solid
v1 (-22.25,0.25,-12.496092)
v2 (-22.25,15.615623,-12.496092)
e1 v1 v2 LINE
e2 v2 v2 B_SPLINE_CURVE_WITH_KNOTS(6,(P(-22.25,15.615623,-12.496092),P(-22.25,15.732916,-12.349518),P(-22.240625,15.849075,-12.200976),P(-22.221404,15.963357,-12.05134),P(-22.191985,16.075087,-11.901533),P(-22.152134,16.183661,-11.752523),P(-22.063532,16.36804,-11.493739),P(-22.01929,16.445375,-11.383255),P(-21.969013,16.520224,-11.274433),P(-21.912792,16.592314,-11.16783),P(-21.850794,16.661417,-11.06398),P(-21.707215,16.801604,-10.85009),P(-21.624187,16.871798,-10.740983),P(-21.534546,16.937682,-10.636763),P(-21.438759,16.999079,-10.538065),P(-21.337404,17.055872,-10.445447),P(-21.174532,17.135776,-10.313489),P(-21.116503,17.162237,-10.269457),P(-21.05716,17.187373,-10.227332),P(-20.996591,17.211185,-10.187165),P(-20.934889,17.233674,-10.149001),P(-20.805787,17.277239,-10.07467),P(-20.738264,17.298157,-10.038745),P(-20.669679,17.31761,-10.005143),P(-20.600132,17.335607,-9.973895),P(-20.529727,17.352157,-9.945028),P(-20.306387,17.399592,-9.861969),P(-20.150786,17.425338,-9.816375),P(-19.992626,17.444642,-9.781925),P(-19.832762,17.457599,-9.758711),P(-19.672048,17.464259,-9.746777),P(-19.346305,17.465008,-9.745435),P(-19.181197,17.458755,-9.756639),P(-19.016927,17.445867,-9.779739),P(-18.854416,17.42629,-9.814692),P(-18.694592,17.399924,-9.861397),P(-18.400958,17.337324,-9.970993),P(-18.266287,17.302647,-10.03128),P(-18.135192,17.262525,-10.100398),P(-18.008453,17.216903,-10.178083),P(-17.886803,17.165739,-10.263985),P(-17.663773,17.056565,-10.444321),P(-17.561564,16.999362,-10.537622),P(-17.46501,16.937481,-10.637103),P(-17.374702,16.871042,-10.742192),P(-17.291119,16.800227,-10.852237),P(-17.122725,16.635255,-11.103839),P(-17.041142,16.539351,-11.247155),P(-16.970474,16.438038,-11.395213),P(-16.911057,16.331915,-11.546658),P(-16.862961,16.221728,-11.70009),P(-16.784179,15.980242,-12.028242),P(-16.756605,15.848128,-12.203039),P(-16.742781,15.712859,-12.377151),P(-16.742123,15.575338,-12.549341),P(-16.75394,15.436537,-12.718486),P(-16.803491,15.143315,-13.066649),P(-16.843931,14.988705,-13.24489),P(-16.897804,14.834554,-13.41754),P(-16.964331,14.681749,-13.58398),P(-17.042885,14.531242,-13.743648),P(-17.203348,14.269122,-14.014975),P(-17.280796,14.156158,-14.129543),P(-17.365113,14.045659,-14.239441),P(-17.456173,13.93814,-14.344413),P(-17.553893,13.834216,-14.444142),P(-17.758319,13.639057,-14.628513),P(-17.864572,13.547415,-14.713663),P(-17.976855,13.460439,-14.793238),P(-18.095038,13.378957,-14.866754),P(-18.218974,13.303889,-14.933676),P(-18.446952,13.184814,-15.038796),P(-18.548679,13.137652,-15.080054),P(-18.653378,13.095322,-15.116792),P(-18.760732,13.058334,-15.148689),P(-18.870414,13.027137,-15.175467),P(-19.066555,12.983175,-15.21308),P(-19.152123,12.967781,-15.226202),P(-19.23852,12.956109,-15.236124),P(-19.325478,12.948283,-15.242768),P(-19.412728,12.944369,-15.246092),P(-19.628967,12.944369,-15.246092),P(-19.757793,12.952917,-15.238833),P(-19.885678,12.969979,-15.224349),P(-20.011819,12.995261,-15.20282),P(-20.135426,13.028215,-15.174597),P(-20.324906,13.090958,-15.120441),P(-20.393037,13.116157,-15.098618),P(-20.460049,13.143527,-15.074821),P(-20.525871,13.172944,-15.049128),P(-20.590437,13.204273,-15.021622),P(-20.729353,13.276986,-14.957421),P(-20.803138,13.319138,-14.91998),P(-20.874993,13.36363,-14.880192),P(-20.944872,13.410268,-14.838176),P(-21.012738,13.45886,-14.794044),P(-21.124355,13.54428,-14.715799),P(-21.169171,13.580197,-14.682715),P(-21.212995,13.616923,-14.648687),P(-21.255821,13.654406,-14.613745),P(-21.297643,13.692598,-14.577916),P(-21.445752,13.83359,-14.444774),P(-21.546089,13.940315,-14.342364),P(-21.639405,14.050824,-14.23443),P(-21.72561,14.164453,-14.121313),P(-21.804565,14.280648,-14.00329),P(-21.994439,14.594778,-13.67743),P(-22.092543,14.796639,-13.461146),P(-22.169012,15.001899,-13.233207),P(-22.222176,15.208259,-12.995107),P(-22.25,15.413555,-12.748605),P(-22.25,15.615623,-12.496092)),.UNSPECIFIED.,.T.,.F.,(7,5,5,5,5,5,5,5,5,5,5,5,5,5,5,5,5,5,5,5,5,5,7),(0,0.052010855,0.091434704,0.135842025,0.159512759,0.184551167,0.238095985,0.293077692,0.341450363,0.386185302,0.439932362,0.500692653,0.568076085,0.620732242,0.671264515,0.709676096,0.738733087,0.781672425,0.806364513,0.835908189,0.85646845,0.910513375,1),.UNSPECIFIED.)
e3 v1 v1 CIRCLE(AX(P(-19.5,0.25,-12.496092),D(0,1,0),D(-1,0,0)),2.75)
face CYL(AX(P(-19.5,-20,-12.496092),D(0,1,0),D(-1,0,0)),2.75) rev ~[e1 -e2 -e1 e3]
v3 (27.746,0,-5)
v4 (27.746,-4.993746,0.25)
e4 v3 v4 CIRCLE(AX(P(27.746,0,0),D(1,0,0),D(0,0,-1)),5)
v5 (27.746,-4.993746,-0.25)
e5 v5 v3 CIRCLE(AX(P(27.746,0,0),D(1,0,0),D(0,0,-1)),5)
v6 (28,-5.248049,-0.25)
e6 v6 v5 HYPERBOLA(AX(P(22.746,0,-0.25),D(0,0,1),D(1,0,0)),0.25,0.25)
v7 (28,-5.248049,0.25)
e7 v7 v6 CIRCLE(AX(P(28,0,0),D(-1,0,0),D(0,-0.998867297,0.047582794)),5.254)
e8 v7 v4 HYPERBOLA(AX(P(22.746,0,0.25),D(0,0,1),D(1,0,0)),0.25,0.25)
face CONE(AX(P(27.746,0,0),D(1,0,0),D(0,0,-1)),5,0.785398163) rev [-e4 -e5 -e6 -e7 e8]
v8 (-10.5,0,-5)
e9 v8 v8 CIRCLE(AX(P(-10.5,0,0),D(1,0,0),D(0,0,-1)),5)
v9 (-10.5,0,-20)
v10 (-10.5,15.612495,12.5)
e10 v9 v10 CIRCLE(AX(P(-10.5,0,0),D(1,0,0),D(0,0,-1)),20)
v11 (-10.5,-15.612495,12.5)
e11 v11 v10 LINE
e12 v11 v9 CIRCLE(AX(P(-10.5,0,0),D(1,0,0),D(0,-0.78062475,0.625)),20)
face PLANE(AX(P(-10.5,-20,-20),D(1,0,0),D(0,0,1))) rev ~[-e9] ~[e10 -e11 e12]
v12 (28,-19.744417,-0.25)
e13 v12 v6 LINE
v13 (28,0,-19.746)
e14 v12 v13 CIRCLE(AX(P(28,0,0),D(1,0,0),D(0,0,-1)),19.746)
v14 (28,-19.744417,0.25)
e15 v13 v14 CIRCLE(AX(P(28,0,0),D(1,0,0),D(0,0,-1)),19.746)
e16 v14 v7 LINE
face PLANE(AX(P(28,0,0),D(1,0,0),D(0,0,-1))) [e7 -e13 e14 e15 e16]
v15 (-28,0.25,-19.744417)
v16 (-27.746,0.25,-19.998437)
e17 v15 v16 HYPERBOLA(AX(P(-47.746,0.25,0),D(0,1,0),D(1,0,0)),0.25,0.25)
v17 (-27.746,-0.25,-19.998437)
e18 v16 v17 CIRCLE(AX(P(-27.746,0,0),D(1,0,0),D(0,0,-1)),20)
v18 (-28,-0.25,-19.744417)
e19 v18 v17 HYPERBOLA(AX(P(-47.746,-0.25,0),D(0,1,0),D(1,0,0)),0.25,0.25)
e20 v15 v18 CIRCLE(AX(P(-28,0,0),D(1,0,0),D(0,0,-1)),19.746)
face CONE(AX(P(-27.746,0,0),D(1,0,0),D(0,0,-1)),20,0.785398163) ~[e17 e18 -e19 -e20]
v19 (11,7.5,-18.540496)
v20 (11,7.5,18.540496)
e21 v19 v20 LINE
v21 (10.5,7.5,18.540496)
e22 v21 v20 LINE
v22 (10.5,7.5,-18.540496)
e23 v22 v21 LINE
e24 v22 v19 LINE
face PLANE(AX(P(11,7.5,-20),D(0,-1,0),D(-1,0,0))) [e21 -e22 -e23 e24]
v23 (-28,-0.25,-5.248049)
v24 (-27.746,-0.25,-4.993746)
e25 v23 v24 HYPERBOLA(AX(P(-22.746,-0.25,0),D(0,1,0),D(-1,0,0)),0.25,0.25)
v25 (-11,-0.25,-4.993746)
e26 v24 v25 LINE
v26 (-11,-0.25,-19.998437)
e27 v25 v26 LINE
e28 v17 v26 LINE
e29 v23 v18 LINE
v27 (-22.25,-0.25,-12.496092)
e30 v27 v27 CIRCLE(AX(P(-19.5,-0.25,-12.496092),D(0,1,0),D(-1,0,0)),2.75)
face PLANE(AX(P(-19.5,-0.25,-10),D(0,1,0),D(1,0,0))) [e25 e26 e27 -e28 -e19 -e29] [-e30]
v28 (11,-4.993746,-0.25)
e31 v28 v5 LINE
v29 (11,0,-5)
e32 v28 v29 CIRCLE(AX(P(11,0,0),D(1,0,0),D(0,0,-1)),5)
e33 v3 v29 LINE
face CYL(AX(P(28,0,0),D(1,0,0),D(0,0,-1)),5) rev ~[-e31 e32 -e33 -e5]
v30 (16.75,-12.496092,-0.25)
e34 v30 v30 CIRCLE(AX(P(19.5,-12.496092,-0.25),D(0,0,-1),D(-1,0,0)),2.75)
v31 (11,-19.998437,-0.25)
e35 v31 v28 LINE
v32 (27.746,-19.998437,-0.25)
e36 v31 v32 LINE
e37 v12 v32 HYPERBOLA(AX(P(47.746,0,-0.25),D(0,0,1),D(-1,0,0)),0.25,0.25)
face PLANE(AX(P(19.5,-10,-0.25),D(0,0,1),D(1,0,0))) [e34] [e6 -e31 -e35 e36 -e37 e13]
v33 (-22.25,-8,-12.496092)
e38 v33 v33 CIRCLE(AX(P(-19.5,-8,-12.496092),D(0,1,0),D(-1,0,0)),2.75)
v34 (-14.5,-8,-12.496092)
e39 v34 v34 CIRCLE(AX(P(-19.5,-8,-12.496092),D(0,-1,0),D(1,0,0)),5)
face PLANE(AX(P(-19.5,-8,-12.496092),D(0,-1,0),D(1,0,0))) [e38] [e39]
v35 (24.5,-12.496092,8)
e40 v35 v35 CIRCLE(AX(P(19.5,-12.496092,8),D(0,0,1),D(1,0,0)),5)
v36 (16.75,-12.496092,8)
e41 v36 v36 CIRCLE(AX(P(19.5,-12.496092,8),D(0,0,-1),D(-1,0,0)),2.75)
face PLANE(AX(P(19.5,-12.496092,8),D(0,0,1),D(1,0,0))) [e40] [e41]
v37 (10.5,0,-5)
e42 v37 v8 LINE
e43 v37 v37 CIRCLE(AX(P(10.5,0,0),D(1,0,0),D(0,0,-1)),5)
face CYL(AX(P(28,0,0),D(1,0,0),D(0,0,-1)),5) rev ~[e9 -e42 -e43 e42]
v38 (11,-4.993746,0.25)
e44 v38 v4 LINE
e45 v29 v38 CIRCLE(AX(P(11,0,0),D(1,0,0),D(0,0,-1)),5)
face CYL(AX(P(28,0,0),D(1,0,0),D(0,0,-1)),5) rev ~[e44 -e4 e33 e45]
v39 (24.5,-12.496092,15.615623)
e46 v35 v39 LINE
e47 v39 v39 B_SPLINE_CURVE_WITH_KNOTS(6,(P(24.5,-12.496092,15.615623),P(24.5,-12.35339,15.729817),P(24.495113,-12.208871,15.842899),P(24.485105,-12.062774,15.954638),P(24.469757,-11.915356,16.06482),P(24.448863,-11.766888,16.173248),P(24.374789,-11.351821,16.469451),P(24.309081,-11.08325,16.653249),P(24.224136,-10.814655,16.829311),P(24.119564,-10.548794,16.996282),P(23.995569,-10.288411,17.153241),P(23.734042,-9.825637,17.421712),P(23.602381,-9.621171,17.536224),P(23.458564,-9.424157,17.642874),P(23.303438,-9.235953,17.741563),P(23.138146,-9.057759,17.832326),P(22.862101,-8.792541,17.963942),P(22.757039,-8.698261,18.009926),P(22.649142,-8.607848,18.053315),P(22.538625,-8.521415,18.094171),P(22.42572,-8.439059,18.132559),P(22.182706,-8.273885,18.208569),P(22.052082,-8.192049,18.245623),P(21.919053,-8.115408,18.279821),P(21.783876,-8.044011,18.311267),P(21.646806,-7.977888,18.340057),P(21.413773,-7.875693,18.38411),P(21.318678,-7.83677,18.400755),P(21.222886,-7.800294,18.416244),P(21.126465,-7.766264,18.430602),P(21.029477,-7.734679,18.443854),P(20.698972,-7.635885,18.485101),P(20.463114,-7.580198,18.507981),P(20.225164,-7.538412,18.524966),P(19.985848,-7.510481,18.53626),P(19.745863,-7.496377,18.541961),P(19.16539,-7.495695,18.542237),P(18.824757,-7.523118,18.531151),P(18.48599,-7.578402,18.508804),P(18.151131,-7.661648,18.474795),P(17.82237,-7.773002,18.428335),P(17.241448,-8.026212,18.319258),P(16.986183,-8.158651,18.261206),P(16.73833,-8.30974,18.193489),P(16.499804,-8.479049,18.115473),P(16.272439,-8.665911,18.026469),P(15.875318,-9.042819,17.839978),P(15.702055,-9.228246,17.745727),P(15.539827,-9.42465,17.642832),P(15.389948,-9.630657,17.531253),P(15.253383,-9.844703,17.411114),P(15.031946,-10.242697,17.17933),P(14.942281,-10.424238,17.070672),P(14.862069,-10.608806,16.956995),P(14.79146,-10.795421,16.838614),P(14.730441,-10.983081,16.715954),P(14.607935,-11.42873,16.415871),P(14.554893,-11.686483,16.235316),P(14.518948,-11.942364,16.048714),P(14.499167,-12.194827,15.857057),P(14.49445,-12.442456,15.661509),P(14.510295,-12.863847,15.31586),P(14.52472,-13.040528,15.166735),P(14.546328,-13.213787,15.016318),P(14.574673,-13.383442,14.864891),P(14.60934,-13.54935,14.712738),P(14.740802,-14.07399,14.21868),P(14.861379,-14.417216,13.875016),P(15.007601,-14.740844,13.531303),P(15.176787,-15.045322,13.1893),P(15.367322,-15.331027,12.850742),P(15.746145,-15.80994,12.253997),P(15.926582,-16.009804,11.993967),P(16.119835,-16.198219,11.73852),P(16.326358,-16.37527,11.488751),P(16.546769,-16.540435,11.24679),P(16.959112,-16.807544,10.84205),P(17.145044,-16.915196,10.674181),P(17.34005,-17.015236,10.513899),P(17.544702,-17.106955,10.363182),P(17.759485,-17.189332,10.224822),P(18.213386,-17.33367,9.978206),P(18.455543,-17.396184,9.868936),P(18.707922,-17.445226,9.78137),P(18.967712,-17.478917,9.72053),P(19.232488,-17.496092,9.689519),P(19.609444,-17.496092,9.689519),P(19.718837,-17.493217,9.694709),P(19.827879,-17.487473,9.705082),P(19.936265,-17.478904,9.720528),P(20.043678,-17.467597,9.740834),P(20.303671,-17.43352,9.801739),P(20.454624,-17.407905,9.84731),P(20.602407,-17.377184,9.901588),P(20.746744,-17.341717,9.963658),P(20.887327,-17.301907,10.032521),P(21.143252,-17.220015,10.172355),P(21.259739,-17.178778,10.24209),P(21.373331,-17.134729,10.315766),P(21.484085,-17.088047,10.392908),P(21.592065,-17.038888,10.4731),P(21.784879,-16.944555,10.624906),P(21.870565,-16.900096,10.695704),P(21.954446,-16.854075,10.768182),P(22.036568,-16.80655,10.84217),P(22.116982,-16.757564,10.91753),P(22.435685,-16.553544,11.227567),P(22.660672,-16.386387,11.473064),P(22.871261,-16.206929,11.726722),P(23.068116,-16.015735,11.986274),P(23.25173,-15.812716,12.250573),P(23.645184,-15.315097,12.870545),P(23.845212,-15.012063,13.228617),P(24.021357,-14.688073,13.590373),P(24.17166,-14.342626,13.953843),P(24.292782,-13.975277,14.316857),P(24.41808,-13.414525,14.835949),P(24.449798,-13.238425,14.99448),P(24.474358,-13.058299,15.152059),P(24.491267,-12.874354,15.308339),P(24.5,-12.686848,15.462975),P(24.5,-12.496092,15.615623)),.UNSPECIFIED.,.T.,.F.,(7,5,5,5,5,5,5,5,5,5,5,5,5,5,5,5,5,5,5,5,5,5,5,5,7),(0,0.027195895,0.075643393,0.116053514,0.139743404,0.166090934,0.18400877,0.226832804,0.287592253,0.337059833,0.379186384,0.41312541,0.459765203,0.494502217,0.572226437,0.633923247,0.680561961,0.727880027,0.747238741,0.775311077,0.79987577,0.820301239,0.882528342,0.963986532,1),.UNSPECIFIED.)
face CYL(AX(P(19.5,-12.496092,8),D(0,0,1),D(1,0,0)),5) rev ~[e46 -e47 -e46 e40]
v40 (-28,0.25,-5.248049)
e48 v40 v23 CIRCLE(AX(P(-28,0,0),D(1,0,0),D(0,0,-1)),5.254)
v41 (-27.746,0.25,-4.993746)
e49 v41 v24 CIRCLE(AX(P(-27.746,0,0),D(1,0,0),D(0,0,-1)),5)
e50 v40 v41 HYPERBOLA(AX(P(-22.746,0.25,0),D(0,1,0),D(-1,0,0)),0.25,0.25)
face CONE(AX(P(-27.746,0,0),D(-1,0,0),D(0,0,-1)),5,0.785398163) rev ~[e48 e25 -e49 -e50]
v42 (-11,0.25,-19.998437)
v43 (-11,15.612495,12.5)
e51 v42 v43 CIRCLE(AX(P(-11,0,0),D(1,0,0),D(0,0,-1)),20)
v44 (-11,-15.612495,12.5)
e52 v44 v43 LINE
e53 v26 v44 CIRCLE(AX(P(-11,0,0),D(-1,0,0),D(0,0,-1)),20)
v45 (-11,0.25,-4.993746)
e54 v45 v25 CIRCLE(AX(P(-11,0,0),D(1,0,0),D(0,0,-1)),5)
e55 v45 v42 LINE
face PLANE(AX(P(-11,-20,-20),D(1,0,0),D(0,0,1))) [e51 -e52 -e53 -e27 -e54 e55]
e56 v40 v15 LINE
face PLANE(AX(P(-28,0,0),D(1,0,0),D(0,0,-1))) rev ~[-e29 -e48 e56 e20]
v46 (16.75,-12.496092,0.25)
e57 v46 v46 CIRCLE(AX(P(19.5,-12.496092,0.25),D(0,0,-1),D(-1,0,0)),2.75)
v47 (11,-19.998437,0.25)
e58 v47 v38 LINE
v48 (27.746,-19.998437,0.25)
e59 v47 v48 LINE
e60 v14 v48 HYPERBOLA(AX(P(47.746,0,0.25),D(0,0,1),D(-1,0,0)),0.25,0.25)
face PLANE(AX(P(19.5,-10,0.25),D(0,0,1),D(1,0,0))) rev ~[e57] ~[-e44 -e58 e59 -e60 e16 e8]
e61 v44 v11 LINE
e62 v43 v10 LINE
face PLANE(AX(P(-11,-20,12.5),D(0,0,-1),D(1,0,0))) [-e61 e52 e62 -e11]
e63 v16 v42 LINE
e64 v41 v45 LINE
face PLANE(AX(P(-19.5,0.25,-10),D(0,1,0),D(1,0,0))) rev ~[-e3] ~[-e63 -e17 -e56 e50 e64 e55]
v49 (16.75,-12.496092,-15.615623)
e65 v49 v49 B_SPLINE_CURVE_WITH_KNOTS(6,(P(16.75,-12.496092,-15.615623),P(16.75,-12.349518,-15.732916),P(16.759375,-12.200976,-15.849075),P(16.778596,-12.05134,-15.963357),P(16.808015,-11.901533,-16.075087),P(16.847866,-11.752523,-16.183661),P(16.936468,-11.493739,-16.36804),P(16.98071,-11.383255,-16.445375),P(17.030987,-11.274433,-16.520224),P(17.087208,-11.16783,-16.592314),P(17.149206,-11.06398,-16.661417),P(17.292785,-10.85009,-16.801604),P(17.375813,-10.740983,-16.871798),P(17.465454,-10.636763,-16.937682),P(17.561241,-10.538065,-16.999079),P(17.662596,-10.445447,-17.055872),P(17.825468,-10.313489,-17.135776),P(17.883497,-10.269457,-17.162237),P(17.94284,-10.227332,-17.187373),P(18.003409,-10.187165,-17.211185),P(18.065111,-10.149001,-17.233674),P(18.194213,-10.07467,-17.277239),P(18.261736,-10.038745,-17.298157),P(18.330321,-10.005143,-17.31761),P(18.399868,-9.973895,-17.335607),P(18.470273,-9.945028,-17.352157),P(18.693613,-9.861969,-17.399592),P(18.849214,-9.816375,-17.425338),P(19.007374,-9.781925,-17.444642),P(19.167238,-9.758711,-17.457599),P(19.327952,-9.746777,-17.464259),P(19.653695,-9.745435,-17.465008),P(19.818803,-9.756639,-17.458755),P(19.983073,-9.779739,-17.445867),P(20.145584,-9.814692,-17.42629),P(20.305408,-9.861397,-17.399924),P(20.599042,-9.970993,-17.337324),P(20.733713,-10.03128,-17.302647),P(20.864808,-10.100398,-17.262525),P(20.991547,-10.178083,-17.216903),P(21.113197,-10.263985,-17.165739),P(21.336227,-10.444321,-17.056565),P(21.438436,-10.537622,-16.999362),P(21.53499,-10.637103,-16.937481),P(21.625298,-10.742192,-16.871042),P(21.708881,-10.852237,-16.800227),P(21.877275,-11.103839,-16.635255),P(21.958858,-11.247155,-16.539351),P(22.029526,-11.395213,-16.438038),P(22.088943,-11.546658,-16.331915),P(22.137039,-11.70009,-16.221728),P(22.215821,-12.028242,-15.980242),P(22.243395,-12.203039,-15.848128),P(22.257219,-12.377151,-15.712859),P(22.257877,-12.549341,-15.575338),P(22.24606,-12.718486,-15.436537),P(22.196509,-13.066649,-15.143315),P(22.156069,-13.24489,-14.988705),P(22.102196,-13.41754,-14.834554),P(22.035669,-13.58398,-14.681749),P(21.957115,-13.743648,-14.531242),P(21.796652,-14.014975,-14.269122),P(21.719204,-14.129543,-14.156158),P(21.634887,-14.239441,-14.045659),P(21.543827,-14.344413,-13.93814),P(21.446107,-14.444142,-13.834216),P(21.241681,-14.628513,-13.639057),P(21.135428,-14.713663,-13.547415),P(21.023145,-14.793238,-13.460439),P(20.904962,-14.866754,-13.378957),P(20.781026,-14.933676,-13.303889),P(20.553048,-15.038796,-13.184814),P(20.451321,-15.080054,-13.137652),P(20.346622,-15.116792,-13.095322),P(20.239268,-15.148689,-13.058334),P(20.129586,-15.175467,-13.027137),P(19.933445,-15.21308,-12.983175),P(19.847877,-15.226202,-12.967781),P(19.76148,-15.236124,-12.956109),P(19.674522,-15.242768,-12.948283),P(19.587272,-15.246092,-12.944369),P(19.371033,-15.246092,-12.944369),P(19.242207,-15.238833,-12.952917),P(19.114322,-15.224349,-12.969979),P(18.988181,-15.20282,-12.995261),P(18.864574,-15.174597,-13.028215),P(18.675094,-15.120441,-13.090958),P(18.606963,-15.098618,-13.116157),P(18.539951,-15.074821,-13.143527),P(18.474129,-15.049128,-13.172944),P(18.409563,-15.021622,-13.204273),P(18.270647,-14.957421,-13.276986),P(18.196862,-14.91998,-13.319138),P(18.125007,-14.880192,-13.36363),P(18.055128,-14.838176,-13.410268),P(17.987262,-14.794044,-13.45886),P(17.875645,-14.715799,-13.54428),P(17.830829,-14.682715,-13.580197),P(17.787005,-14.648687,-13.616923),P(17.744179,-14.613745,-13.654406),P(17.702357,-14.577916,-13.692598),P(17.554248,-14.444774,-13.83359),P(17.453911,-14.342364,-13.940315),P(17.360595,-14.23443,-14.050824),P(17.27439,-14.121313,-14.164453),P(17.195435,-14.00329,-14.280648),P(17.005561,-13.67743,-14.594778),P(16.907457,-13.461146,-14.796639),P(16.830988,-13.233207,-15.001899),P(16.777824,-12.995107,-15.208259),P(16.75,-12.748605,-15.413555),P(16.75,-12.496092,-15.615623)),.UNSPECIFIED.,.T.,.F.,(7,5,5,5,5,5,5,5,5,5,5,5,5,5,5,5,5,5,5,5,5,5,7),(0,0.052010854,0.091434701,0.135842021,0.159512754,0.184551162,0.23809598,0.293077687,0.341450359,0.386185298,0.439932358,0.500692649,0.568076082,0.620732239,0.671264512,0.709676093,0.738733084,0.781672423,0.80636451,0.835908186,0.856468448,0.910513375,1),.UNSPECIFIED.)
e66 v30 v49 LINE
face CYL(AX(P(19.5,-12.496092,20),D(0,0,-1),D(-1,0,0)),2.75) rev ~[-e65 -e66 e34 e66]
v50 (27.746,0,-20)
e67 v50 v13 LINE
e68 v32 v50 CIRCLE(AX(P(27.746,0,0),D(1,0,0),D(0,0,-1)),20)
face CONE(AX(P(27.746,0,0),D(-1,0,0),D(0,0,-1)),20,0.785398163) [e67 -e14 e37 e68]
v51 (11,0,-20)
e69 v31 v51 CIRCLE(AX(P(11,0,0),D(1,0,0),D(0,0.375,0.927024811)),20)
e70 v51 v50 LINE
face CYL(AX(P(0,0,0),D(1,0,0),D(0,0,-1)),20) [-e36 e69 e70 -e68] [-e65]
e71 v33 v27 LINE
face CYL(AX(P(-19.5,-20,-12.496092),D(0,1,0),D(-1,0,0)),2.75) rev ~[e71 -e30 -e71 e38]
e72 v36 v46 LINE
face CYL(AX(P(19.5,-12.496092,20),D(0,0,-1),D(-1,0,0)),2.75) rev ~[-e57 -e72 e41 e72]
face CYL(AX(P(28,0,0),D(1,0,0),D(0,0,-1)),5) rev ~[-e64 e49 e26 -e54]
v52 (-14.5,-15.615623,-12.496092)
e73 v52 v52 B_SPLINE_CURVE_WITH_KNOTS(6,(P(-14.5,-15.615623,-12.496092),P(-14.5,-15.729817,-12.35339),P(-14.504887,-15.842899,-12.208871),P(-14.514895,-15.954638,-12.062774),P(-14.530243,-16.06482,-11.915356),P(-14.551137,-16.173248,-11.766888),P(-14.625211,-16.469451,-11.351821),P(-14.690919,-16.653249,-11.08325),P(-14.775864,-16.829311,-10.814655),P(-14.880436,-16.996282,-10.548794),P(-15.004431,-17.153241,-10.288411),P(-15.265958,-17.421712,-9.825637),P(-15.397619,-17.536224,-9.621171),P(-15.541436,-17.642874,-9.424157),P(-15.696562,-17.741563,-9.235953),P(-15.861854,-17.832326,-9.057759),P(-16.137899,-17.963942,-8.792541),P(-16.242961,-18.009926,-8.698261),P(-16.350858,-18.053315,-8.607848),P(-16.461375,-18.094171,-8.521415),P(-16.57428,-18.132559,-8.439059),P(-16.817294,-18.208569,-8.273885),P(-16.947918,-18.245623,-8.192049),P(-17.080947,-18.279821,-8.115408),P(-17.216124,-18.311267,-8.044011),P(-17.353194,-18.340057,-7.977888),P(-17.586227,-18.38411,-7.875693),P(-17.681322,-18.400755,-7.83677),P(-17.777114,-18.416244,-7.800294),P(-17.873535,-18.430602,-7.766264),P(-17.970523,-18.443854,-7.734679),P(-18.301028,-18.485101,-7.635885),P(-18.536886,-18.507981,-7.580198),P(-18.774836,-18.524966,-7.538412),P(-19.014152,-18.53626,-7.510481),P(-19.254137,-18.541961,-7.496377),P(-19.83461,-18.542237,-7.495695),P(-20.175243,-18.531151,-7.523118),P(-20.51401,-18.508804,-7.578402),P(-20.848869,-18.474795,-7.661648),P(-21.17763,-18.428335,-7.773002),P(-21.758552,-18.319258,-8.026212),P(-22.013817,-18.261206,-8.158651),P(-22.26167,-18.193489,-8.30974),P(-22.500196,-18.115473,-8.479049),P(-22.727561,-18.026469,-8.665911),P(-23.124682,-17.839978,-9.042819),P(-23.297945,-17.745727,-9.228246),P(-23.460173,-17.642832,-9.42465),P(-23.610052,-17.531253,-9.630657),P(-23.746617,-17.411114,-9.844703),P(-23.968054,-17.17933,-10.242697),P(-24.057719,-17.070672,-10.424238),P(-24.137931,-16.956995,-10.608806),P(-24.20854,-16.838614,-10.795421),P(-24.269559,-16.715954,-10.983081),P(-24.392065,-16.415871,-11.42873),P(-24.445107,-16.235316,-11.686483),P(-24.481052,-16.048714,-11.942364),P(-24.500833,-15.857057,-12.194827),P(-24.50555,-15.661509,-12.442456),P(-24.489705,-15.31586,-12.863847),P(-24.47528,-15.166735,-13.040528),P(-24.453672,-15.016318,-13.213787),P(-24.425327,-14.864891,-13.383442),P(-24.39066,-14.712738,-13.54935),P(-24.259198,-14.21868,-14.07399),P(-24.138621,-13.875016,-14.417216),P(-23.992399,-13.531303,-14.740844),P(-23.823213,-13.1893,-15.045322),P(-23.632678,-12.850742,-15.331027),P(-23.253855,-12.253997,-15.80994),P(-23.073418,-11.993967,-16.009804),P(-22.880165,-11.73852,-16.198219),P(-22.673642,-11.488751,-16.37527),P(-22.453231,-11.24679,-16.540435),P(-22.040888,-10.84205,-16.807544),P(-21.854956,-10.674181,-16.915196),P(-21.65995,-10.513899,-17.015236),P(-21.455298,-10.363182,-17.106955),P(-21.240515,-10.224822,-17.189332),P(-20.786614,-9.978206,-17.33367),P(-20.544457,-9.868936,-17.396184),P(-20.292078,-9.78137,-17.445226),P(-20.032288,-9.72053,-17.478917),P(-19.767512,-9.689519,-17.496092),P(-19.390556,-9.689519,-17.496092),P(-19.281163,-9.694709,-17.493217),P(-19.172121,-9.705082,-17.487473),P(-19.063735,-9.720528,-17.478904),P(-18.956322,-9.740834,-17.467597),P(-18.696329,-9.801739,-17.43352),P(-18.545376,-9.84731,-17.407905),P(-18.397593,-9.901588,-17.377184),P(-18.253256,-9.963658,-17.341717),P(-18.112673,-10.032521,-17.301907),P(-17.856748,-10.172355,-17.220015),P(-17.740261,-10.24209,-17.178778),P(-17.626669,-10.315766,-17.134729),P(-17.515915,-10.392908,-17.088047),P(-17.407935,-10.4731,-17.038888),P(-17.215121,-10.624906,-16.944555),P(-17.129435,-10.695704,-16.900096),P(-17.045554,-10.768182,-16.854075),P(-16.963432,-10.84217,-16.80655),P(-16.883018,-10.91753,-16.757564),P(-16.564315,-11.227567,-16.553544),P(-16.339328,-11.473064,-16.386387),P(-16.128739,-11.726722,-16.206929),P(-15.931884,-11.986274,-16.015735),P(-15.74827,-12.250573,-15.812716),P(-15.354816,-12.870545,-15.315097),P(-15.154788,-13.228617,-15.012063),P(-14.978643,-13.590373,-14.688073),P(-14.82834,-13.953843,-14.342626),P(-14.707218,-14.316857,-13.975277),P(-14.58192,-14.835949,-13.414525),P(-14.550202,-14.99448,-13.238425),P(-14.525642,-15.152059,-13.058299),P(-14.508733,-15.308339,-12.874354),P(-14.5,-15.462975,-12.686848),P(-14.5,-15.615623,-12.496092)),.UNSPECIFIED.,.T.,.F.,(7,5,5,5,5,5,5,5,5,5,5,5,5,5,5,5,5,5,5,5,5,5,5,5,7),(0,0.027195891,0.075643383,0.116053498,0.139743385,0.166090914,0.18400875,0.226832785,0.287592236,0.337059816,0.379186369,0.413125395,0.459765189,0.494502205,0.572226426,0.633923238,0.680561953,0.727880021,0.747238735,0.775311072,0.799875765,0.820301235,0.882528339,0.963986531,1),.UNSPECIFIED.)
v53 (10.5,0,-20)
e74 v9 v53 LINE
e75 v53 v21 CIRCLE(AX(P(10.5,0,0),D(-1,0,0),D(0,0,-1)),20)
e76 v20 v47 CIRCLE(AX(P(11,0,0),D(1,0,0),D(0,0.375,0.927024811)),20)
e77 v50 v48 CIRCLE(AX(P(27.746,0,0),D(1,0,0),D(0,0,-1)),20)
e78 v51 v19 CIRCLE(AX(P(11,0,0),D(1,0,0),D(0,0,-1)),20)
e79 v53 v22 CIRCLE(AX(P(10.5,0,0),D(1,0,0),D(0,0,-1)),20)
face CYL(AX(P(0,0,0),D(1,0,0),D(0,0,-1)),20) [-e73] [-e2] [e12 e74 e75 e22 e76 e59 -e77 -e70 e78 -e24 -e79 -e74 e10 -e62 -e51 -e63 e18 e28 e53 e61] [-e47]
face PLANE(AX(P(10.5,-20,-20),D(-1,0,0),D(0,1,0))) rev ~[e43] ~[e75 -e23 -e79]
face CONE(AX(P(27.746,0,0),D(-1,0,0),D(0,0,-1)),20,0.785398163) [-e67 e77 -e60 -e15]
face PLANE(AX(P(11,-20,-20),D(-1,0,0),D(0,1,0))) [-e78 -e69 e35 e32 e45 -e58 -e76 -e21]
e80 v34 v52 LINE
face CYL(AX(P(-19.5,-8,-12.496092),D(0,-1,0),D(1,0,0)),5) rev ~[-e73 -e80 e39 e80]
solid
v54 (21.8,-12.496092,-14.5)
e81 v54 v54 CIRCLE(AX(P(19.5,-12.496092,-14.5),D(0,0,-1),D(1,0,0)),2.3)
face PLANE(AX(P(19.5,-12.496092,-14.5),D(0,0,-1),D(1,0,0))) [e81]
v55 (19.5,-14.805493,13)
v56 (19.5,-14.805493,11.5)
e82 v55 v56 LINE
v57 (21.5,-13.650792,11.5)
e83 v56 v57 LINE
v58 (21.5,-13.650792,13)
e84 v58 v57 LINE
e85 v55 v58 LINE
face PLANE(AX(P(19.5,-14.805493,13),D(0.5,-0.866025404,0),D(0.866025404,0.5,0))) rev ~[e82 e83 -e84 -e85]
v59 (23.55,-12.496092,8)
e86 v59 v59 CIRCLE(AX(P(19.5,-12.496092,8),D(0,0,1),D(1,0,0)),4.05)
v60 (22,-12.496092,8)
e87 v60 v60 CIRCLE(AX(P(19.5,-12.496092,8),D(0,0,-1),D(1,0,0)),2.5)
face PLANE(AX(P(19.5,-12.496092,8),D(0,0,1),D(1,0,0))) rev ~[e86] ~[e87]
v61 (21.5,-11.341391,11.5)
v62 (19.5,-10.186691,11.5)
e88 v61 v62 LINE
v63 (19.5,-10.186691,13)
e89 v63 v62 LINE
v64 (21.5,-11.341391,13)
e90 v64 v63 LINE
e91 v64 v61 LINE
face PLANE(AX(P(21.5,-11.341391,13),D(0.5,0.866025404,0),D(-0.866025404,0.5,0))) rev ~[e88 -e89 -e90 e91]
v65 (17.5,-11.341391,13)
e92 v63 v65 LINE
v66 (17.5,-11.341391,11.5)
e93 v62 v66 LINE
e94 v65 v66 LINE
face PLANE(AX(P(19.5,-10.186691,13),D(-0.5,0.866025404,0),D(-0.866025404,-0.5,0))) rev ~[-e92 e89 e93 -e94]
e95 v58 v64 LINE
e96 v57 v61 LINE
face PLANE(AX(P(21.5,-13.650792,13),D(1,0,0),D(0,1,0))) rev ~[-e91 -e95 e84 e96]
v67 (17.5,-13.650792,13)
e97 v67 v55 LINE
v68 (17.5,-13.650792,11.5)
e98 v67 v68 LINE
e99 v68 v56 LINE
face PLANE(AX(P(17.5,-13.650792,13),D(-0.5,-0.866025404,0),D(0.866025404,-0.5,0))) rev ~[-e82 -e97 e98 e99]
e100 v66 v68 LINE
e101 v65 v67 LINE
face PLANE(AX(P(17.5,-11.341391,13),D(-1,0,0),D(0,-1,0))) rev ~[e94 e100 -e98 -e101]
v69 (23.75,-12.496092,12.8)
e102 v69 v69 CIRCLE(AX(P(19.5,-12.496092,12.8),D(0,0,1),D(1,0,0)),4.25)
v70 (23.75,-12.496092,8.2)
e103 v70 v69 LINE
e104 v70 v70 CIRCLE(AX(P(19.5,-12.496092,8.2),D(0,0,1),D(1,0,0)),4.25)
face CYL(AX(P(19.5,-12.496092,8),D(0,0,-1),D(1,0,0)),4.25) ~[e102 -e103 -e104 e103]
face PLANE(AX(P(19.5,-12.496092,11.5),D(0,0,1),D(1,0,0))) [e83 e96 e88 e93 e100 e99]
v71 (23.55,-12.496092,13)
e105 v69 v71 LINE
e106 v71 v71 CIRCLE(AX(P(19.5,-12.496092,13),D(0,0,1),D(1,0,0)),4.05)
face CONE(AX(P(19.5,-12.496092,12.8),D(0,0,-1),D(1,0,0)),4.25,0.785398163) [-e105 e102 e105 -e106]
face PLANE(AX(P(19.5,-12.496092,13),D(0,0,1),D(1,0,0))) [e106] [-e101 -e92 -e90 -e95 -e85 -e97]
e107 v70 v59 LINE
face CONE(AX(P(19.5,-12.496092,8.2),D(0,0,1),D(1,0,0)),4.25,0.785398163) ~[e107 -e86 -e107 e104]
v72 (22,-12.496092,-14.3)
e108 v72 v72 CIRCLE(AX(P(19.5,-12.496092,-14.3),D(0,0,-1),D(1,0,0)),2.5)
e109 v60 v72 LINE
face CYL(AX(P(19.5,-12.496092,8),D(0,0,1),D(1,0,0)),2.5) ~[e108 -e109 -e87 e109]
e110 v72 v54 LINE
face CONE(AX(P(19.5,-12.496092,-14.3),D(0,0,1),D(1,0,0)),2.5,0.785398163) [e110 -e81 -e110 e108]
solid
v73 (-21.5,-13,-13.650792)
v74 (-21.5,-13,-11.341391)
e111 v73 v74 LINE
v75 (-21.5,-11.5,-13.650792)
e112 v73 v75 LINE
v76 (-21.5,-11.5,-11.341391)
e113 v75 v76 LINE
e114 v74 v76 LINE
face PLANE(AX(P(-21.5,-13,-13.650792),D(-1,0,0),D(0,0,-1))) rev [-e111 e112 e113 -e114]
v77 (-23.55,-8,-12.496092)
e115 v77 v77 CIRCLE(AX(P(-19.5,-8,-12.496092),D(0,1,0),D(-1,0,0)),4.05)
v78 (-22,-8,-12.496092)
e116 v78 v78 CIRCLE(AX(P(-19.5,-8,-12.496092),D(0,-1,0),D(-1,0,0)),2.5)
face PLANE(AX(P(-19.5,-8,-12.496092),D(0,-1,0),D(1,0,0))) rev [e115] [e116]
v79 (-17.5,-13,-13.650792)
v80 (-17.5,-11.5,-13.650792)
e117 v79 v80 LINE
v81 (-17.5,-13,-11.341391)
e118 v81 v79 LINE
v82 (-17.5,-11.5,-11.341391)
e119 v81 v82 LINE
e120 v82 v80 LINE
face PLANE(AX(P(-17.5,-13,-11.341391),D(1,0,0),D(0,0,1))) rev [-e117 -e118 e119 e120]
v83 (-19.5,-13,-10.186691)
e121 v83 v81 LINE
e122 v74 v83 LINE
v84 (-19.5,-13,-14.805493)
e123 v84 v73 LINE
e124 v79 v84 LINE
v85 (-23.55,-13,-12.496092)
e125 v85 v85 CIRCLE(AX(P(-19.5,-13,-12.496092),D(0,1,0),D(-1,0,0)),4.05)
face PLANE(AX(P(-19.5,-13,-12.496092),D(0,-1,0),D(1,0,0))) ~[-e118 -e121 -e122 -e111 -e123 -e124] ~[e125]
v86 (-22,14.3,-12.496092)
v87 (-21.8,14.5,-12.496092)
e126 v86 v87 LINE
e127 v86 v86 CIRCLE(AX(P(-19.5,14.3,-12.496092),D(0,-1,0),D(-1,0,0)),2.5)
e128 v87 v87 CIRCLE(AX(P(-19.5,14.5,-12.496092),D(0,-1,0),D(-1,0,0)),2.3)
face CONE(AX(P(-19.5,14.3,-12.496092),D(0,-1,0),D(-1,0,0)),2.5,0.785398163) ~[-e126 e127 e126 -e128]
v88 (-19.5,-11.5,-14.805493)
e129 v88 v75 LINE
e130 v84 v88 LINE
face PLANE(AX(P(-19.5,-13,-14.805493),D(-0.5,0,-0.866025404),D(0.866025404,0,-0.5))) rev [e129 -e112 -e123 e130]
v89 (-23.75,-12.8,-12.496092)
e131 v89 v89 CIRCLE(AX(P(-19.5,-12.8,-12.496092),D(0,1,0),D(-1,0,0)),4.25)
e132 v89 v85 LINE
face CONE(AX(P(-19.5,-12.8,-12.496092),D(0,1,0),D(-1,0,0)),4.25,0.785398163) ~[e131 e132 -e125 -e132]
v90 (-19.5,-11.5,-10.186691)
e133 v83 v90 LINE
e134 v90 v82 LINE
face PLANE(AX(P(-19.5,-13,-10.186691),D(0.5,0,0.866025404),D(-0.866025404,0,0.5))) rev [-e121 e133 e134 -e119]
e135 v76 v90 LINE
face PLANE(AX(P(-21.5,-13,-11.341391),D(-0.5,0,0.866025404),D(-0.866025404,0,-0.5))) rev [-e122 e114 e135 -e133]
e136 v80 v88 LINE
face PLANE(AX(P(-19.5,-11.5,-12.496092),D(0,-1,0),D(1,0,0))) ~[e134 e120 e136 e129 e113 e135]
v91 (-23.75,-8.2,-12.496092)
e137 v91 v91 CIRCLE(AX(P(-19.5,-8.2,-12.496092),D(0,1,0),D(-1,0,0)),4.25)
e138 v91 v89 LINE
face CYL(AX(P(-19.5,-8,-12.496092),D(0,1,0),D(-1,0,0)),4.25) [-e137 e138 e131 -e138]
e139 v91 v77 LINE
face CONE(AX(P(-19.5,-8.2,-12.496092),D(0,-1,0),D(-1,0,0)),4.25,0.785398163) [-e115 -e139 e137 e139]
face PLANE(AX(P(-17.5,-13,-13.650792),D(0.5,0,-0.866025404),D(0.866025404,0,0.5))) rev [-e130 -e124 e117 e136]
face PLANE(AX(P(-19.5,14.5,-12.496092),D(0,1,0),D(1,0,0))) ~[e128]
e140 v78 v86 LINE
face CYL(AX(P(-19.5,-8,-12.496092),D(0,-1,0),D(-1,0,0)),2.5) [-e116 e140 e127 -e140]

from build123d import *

# Parameters (mm, degrees)
SKETCH1_R                      = 20
BOSS_EXTRUDE1_DEPTH            = 28
SKETCH2_R                      = 5
CUT_EXTRUDE1_DEPTH             = 57
CHAMFER1_SIZE                  = 0.254
SKETCH4_W                      = 0.5
SKETCH4_H                      = 32.5
CUT_EXTRUDE2_DEPTH             = 41
SKETCH7_W                      = 0.5
SKETCH7_H                      = 27.5
CUT_EXTRUDE3_DEPTH             = 41
SKETCH8_W                      = 17
SKETCH8_H                      = 20
CUT_EXTRUDE5_DEPTH             = 0.25
SKETCH13_W                     = 17
SKETCH13_H                     = 20
CUT_EXTRUDE6_DEPTH             = 0.25
CBORE_FOR_M5_SHCS1_D           = 5.5
CBORE_FOR_M5_SHCS1_CBORE_D     = 10
CBORE_FOR_M5_SHCS1_CBORE_DEPTH = 12
CBORE_FOR_M5_SHCS2_D           = 5.5
CBORE_FOR_M5_SHCS2_CBORE_D     = 10
CBORE_FOR_M5_SHCS2_CBORE_DEPTH = 12
SKETCH16_R                     = 4.25
BOSS_EXTRUDE2_DEPTH            = 5
SKETCH17_R                     = 2.5
BOSS_EXTRUDE3_DEPTH            = 22.5
CHAMFER2_SIZE                  = 0.2
CUT_EXTRUDE7_DEPTH             = 1.5
CIRPATTERN1_COUNT              = 2
CIRPATTERN1_ANGLE              = 90


with BuildPart() as part:
    # Sketch1 → Boss-Extrude1 (new body, symmetric)
    with BuildSketch(Plane(origin=(0, 0, 0), x_dir=(0, 0, -1), z_dir=(1, 0, 0))):
        Circle(SKETCH1_R)
    extrude(amount=BOSS_EXTRUDE1_DEPTH, both=True)

    # Sketch2 → Cut-Extrude1 (cut, through all)
    with BuildSketch(Plane(origin=(28, 0, 0), x_dir=(0, 0, -1), z_dir=(1, 0, 0))):
        Circle(SKETCH2_R)
    extrude(amount=-CUT_EXTRUDE1_DEPTH, mode=Mode.SUBTRACT)

    # Chamfer1
    chamfer1_edges = [part.edges().sort_by_distance(p)[0] for p in [
        (-28, 0, 20),
        (28, 0, 20),
        (-28, 0, 5),
        (28, 0, 5),
    ]]
    chamfer(chamfer1_edges, length=CHAMFER1_SIZE)

    # Sketch4 → Cut-Extrude2 (cut, through all)
    with BuildSketch(Plane.XZ.offset(20)):
        with Locations((-10.75, -3.75)):
            Rectangle(SKETCH4_W, SKETCH4_H)
    extrude(amount=-CUT_EXTRUDE2_DEPTH, mode=Mode.SUBTRACT)

    # Sketch7 → Cut-Extrude3 (cut, through all)
    with BuildSketch(Plane(origin=(0, 0, -20), x_dir=(-1, 0, 0), z_dir=(0, 0, -1))):
        with Locations((-10.75, -6.25)):
            Rectangle(SKETCH7_W, SKETCH7_H)
    extrude(amount=-CUT_EXTRUDE3_DEPTH, mode=Mode.SUBTRACT)

    # Sketch8 → Cut-Extrude5 (cut, symmetric)
    with BuildSketch(Plane(origin=(0, 0, 0), x_dir=(1, 0, 0), z_dir=(0, 1, 0))):
        with Locations((-19.5, 10)):
            Rectangle(SKETCH8_W, SKETCH8_H)
    extrude(amount=CUT_EXTRUDE5_DEPTH, both=True, mode=Mode.SUBTRACT)

    # Sketch13 → Cut-Extrude6 (cut, symmetric)
    with BuildSketch(Plane.XY):
        with Locations((19.5, -10)):
            Rectangle(SKETCH13_W, SKETCH13_H)
    extrude(amount=CUT_EXTRUDE6_DEPTH, both=True, mode=Mode.SUBTRACT)

    # CBORE for M5 SHCS1 (through all)
    with Locations(Plane.XZ.offset(20)):
        with Locations((-19.5, -12.496091764)):
            CounterBoreHole(CBORE_FOR_M5_SHCS1_D / 2, CBORE_FOR_M5_SHCS1_CBORE_D / 2, CBORE_FOR_M5_SHCS1_CBORE_DEPTH)

    # CBORE for M5 SHCS2 (through all)
    with Locations(Plane.XY.offset(20)):
        with Locations((19.5, -12.496091764)):
            CounterBoreHole(CBORE_FOR_M5_SHCS2_D / 2, CBORE_FOR_M5_SHCS2_CBORE_D / 2, CBORE_FOR_M5_SHCS2_CBORE_DEPTH)


with BuildPart() as body_2:
    # Sketch16 → Boss-Extrude2 (new body)
    with BuildSketch(Plane.XY.offset(8)):
        with Locations((19.5, -12.496091764)):
            Circle(SKETCH16_R)
    extrude(amount=BOSS_EXTRUDE2_DEPTH)

    # Sketch17 → Boss-Extrude3 (add)
    with BuildSketch(Plane(origin=(0, 0, 8), x_dir=(-1, 0, 0), z_dir=(0, 0, -1))):
        with Locations(Location((-19.5, -12.496091764, 0), (0, 0, 180))):  # turned: the seam where the file's is
            Circle(SKETCH17_R)
    extrude(amount=BOSS_EXTRUDE3_DEPTH)

    # Chamfer2
    chamfer2_edges = [body_2.edges().sort_by_distance(p)[0] for p in [
        (15.25, -12.496091764, 8),
        (15.25, -12.496091764, 13),
        (17, -12.496091764, -14.5),
    ]]
    chamfer(chamfer2_edges, length=CHAMFER2_SIZE)

    # Sketch18 → Cut-Extrude7 (cut)
    with BuildSketch(Plane.XY.offset(13)):
        Polygon((19.5, -14.805492841), (21.5, -13.650792302), (21.5, -11.341391226), (19.5, -10.186690687), (17.5, -11.341391226), (17.5, -13.650792302), align=None)
    extrude(amount=-CUT_EXTRUDE7_DEPTH, mode=Mode.SUBTRACT)


with BuildPart() as body_3:
    # Mirror1: mirrored copy
    add(body_2.part.mirror(Plane(origin=(0, 0, 0), x_dir=(0, 0, 1), z_dir=(1, 0, 0))))


with BuildPart() as cirpattern1_1:
    # CirPattern1: pattern copy
    add(body_3.part.rotate(Axis((0, 0, 0), (1, 0, 0)), 1 * CIRPATTERN1_ANGLE / (CIRPATTERN1_COUNT - 1)))


solid = Compound([part.part, body_2.part, cirpattern1_1.part])
